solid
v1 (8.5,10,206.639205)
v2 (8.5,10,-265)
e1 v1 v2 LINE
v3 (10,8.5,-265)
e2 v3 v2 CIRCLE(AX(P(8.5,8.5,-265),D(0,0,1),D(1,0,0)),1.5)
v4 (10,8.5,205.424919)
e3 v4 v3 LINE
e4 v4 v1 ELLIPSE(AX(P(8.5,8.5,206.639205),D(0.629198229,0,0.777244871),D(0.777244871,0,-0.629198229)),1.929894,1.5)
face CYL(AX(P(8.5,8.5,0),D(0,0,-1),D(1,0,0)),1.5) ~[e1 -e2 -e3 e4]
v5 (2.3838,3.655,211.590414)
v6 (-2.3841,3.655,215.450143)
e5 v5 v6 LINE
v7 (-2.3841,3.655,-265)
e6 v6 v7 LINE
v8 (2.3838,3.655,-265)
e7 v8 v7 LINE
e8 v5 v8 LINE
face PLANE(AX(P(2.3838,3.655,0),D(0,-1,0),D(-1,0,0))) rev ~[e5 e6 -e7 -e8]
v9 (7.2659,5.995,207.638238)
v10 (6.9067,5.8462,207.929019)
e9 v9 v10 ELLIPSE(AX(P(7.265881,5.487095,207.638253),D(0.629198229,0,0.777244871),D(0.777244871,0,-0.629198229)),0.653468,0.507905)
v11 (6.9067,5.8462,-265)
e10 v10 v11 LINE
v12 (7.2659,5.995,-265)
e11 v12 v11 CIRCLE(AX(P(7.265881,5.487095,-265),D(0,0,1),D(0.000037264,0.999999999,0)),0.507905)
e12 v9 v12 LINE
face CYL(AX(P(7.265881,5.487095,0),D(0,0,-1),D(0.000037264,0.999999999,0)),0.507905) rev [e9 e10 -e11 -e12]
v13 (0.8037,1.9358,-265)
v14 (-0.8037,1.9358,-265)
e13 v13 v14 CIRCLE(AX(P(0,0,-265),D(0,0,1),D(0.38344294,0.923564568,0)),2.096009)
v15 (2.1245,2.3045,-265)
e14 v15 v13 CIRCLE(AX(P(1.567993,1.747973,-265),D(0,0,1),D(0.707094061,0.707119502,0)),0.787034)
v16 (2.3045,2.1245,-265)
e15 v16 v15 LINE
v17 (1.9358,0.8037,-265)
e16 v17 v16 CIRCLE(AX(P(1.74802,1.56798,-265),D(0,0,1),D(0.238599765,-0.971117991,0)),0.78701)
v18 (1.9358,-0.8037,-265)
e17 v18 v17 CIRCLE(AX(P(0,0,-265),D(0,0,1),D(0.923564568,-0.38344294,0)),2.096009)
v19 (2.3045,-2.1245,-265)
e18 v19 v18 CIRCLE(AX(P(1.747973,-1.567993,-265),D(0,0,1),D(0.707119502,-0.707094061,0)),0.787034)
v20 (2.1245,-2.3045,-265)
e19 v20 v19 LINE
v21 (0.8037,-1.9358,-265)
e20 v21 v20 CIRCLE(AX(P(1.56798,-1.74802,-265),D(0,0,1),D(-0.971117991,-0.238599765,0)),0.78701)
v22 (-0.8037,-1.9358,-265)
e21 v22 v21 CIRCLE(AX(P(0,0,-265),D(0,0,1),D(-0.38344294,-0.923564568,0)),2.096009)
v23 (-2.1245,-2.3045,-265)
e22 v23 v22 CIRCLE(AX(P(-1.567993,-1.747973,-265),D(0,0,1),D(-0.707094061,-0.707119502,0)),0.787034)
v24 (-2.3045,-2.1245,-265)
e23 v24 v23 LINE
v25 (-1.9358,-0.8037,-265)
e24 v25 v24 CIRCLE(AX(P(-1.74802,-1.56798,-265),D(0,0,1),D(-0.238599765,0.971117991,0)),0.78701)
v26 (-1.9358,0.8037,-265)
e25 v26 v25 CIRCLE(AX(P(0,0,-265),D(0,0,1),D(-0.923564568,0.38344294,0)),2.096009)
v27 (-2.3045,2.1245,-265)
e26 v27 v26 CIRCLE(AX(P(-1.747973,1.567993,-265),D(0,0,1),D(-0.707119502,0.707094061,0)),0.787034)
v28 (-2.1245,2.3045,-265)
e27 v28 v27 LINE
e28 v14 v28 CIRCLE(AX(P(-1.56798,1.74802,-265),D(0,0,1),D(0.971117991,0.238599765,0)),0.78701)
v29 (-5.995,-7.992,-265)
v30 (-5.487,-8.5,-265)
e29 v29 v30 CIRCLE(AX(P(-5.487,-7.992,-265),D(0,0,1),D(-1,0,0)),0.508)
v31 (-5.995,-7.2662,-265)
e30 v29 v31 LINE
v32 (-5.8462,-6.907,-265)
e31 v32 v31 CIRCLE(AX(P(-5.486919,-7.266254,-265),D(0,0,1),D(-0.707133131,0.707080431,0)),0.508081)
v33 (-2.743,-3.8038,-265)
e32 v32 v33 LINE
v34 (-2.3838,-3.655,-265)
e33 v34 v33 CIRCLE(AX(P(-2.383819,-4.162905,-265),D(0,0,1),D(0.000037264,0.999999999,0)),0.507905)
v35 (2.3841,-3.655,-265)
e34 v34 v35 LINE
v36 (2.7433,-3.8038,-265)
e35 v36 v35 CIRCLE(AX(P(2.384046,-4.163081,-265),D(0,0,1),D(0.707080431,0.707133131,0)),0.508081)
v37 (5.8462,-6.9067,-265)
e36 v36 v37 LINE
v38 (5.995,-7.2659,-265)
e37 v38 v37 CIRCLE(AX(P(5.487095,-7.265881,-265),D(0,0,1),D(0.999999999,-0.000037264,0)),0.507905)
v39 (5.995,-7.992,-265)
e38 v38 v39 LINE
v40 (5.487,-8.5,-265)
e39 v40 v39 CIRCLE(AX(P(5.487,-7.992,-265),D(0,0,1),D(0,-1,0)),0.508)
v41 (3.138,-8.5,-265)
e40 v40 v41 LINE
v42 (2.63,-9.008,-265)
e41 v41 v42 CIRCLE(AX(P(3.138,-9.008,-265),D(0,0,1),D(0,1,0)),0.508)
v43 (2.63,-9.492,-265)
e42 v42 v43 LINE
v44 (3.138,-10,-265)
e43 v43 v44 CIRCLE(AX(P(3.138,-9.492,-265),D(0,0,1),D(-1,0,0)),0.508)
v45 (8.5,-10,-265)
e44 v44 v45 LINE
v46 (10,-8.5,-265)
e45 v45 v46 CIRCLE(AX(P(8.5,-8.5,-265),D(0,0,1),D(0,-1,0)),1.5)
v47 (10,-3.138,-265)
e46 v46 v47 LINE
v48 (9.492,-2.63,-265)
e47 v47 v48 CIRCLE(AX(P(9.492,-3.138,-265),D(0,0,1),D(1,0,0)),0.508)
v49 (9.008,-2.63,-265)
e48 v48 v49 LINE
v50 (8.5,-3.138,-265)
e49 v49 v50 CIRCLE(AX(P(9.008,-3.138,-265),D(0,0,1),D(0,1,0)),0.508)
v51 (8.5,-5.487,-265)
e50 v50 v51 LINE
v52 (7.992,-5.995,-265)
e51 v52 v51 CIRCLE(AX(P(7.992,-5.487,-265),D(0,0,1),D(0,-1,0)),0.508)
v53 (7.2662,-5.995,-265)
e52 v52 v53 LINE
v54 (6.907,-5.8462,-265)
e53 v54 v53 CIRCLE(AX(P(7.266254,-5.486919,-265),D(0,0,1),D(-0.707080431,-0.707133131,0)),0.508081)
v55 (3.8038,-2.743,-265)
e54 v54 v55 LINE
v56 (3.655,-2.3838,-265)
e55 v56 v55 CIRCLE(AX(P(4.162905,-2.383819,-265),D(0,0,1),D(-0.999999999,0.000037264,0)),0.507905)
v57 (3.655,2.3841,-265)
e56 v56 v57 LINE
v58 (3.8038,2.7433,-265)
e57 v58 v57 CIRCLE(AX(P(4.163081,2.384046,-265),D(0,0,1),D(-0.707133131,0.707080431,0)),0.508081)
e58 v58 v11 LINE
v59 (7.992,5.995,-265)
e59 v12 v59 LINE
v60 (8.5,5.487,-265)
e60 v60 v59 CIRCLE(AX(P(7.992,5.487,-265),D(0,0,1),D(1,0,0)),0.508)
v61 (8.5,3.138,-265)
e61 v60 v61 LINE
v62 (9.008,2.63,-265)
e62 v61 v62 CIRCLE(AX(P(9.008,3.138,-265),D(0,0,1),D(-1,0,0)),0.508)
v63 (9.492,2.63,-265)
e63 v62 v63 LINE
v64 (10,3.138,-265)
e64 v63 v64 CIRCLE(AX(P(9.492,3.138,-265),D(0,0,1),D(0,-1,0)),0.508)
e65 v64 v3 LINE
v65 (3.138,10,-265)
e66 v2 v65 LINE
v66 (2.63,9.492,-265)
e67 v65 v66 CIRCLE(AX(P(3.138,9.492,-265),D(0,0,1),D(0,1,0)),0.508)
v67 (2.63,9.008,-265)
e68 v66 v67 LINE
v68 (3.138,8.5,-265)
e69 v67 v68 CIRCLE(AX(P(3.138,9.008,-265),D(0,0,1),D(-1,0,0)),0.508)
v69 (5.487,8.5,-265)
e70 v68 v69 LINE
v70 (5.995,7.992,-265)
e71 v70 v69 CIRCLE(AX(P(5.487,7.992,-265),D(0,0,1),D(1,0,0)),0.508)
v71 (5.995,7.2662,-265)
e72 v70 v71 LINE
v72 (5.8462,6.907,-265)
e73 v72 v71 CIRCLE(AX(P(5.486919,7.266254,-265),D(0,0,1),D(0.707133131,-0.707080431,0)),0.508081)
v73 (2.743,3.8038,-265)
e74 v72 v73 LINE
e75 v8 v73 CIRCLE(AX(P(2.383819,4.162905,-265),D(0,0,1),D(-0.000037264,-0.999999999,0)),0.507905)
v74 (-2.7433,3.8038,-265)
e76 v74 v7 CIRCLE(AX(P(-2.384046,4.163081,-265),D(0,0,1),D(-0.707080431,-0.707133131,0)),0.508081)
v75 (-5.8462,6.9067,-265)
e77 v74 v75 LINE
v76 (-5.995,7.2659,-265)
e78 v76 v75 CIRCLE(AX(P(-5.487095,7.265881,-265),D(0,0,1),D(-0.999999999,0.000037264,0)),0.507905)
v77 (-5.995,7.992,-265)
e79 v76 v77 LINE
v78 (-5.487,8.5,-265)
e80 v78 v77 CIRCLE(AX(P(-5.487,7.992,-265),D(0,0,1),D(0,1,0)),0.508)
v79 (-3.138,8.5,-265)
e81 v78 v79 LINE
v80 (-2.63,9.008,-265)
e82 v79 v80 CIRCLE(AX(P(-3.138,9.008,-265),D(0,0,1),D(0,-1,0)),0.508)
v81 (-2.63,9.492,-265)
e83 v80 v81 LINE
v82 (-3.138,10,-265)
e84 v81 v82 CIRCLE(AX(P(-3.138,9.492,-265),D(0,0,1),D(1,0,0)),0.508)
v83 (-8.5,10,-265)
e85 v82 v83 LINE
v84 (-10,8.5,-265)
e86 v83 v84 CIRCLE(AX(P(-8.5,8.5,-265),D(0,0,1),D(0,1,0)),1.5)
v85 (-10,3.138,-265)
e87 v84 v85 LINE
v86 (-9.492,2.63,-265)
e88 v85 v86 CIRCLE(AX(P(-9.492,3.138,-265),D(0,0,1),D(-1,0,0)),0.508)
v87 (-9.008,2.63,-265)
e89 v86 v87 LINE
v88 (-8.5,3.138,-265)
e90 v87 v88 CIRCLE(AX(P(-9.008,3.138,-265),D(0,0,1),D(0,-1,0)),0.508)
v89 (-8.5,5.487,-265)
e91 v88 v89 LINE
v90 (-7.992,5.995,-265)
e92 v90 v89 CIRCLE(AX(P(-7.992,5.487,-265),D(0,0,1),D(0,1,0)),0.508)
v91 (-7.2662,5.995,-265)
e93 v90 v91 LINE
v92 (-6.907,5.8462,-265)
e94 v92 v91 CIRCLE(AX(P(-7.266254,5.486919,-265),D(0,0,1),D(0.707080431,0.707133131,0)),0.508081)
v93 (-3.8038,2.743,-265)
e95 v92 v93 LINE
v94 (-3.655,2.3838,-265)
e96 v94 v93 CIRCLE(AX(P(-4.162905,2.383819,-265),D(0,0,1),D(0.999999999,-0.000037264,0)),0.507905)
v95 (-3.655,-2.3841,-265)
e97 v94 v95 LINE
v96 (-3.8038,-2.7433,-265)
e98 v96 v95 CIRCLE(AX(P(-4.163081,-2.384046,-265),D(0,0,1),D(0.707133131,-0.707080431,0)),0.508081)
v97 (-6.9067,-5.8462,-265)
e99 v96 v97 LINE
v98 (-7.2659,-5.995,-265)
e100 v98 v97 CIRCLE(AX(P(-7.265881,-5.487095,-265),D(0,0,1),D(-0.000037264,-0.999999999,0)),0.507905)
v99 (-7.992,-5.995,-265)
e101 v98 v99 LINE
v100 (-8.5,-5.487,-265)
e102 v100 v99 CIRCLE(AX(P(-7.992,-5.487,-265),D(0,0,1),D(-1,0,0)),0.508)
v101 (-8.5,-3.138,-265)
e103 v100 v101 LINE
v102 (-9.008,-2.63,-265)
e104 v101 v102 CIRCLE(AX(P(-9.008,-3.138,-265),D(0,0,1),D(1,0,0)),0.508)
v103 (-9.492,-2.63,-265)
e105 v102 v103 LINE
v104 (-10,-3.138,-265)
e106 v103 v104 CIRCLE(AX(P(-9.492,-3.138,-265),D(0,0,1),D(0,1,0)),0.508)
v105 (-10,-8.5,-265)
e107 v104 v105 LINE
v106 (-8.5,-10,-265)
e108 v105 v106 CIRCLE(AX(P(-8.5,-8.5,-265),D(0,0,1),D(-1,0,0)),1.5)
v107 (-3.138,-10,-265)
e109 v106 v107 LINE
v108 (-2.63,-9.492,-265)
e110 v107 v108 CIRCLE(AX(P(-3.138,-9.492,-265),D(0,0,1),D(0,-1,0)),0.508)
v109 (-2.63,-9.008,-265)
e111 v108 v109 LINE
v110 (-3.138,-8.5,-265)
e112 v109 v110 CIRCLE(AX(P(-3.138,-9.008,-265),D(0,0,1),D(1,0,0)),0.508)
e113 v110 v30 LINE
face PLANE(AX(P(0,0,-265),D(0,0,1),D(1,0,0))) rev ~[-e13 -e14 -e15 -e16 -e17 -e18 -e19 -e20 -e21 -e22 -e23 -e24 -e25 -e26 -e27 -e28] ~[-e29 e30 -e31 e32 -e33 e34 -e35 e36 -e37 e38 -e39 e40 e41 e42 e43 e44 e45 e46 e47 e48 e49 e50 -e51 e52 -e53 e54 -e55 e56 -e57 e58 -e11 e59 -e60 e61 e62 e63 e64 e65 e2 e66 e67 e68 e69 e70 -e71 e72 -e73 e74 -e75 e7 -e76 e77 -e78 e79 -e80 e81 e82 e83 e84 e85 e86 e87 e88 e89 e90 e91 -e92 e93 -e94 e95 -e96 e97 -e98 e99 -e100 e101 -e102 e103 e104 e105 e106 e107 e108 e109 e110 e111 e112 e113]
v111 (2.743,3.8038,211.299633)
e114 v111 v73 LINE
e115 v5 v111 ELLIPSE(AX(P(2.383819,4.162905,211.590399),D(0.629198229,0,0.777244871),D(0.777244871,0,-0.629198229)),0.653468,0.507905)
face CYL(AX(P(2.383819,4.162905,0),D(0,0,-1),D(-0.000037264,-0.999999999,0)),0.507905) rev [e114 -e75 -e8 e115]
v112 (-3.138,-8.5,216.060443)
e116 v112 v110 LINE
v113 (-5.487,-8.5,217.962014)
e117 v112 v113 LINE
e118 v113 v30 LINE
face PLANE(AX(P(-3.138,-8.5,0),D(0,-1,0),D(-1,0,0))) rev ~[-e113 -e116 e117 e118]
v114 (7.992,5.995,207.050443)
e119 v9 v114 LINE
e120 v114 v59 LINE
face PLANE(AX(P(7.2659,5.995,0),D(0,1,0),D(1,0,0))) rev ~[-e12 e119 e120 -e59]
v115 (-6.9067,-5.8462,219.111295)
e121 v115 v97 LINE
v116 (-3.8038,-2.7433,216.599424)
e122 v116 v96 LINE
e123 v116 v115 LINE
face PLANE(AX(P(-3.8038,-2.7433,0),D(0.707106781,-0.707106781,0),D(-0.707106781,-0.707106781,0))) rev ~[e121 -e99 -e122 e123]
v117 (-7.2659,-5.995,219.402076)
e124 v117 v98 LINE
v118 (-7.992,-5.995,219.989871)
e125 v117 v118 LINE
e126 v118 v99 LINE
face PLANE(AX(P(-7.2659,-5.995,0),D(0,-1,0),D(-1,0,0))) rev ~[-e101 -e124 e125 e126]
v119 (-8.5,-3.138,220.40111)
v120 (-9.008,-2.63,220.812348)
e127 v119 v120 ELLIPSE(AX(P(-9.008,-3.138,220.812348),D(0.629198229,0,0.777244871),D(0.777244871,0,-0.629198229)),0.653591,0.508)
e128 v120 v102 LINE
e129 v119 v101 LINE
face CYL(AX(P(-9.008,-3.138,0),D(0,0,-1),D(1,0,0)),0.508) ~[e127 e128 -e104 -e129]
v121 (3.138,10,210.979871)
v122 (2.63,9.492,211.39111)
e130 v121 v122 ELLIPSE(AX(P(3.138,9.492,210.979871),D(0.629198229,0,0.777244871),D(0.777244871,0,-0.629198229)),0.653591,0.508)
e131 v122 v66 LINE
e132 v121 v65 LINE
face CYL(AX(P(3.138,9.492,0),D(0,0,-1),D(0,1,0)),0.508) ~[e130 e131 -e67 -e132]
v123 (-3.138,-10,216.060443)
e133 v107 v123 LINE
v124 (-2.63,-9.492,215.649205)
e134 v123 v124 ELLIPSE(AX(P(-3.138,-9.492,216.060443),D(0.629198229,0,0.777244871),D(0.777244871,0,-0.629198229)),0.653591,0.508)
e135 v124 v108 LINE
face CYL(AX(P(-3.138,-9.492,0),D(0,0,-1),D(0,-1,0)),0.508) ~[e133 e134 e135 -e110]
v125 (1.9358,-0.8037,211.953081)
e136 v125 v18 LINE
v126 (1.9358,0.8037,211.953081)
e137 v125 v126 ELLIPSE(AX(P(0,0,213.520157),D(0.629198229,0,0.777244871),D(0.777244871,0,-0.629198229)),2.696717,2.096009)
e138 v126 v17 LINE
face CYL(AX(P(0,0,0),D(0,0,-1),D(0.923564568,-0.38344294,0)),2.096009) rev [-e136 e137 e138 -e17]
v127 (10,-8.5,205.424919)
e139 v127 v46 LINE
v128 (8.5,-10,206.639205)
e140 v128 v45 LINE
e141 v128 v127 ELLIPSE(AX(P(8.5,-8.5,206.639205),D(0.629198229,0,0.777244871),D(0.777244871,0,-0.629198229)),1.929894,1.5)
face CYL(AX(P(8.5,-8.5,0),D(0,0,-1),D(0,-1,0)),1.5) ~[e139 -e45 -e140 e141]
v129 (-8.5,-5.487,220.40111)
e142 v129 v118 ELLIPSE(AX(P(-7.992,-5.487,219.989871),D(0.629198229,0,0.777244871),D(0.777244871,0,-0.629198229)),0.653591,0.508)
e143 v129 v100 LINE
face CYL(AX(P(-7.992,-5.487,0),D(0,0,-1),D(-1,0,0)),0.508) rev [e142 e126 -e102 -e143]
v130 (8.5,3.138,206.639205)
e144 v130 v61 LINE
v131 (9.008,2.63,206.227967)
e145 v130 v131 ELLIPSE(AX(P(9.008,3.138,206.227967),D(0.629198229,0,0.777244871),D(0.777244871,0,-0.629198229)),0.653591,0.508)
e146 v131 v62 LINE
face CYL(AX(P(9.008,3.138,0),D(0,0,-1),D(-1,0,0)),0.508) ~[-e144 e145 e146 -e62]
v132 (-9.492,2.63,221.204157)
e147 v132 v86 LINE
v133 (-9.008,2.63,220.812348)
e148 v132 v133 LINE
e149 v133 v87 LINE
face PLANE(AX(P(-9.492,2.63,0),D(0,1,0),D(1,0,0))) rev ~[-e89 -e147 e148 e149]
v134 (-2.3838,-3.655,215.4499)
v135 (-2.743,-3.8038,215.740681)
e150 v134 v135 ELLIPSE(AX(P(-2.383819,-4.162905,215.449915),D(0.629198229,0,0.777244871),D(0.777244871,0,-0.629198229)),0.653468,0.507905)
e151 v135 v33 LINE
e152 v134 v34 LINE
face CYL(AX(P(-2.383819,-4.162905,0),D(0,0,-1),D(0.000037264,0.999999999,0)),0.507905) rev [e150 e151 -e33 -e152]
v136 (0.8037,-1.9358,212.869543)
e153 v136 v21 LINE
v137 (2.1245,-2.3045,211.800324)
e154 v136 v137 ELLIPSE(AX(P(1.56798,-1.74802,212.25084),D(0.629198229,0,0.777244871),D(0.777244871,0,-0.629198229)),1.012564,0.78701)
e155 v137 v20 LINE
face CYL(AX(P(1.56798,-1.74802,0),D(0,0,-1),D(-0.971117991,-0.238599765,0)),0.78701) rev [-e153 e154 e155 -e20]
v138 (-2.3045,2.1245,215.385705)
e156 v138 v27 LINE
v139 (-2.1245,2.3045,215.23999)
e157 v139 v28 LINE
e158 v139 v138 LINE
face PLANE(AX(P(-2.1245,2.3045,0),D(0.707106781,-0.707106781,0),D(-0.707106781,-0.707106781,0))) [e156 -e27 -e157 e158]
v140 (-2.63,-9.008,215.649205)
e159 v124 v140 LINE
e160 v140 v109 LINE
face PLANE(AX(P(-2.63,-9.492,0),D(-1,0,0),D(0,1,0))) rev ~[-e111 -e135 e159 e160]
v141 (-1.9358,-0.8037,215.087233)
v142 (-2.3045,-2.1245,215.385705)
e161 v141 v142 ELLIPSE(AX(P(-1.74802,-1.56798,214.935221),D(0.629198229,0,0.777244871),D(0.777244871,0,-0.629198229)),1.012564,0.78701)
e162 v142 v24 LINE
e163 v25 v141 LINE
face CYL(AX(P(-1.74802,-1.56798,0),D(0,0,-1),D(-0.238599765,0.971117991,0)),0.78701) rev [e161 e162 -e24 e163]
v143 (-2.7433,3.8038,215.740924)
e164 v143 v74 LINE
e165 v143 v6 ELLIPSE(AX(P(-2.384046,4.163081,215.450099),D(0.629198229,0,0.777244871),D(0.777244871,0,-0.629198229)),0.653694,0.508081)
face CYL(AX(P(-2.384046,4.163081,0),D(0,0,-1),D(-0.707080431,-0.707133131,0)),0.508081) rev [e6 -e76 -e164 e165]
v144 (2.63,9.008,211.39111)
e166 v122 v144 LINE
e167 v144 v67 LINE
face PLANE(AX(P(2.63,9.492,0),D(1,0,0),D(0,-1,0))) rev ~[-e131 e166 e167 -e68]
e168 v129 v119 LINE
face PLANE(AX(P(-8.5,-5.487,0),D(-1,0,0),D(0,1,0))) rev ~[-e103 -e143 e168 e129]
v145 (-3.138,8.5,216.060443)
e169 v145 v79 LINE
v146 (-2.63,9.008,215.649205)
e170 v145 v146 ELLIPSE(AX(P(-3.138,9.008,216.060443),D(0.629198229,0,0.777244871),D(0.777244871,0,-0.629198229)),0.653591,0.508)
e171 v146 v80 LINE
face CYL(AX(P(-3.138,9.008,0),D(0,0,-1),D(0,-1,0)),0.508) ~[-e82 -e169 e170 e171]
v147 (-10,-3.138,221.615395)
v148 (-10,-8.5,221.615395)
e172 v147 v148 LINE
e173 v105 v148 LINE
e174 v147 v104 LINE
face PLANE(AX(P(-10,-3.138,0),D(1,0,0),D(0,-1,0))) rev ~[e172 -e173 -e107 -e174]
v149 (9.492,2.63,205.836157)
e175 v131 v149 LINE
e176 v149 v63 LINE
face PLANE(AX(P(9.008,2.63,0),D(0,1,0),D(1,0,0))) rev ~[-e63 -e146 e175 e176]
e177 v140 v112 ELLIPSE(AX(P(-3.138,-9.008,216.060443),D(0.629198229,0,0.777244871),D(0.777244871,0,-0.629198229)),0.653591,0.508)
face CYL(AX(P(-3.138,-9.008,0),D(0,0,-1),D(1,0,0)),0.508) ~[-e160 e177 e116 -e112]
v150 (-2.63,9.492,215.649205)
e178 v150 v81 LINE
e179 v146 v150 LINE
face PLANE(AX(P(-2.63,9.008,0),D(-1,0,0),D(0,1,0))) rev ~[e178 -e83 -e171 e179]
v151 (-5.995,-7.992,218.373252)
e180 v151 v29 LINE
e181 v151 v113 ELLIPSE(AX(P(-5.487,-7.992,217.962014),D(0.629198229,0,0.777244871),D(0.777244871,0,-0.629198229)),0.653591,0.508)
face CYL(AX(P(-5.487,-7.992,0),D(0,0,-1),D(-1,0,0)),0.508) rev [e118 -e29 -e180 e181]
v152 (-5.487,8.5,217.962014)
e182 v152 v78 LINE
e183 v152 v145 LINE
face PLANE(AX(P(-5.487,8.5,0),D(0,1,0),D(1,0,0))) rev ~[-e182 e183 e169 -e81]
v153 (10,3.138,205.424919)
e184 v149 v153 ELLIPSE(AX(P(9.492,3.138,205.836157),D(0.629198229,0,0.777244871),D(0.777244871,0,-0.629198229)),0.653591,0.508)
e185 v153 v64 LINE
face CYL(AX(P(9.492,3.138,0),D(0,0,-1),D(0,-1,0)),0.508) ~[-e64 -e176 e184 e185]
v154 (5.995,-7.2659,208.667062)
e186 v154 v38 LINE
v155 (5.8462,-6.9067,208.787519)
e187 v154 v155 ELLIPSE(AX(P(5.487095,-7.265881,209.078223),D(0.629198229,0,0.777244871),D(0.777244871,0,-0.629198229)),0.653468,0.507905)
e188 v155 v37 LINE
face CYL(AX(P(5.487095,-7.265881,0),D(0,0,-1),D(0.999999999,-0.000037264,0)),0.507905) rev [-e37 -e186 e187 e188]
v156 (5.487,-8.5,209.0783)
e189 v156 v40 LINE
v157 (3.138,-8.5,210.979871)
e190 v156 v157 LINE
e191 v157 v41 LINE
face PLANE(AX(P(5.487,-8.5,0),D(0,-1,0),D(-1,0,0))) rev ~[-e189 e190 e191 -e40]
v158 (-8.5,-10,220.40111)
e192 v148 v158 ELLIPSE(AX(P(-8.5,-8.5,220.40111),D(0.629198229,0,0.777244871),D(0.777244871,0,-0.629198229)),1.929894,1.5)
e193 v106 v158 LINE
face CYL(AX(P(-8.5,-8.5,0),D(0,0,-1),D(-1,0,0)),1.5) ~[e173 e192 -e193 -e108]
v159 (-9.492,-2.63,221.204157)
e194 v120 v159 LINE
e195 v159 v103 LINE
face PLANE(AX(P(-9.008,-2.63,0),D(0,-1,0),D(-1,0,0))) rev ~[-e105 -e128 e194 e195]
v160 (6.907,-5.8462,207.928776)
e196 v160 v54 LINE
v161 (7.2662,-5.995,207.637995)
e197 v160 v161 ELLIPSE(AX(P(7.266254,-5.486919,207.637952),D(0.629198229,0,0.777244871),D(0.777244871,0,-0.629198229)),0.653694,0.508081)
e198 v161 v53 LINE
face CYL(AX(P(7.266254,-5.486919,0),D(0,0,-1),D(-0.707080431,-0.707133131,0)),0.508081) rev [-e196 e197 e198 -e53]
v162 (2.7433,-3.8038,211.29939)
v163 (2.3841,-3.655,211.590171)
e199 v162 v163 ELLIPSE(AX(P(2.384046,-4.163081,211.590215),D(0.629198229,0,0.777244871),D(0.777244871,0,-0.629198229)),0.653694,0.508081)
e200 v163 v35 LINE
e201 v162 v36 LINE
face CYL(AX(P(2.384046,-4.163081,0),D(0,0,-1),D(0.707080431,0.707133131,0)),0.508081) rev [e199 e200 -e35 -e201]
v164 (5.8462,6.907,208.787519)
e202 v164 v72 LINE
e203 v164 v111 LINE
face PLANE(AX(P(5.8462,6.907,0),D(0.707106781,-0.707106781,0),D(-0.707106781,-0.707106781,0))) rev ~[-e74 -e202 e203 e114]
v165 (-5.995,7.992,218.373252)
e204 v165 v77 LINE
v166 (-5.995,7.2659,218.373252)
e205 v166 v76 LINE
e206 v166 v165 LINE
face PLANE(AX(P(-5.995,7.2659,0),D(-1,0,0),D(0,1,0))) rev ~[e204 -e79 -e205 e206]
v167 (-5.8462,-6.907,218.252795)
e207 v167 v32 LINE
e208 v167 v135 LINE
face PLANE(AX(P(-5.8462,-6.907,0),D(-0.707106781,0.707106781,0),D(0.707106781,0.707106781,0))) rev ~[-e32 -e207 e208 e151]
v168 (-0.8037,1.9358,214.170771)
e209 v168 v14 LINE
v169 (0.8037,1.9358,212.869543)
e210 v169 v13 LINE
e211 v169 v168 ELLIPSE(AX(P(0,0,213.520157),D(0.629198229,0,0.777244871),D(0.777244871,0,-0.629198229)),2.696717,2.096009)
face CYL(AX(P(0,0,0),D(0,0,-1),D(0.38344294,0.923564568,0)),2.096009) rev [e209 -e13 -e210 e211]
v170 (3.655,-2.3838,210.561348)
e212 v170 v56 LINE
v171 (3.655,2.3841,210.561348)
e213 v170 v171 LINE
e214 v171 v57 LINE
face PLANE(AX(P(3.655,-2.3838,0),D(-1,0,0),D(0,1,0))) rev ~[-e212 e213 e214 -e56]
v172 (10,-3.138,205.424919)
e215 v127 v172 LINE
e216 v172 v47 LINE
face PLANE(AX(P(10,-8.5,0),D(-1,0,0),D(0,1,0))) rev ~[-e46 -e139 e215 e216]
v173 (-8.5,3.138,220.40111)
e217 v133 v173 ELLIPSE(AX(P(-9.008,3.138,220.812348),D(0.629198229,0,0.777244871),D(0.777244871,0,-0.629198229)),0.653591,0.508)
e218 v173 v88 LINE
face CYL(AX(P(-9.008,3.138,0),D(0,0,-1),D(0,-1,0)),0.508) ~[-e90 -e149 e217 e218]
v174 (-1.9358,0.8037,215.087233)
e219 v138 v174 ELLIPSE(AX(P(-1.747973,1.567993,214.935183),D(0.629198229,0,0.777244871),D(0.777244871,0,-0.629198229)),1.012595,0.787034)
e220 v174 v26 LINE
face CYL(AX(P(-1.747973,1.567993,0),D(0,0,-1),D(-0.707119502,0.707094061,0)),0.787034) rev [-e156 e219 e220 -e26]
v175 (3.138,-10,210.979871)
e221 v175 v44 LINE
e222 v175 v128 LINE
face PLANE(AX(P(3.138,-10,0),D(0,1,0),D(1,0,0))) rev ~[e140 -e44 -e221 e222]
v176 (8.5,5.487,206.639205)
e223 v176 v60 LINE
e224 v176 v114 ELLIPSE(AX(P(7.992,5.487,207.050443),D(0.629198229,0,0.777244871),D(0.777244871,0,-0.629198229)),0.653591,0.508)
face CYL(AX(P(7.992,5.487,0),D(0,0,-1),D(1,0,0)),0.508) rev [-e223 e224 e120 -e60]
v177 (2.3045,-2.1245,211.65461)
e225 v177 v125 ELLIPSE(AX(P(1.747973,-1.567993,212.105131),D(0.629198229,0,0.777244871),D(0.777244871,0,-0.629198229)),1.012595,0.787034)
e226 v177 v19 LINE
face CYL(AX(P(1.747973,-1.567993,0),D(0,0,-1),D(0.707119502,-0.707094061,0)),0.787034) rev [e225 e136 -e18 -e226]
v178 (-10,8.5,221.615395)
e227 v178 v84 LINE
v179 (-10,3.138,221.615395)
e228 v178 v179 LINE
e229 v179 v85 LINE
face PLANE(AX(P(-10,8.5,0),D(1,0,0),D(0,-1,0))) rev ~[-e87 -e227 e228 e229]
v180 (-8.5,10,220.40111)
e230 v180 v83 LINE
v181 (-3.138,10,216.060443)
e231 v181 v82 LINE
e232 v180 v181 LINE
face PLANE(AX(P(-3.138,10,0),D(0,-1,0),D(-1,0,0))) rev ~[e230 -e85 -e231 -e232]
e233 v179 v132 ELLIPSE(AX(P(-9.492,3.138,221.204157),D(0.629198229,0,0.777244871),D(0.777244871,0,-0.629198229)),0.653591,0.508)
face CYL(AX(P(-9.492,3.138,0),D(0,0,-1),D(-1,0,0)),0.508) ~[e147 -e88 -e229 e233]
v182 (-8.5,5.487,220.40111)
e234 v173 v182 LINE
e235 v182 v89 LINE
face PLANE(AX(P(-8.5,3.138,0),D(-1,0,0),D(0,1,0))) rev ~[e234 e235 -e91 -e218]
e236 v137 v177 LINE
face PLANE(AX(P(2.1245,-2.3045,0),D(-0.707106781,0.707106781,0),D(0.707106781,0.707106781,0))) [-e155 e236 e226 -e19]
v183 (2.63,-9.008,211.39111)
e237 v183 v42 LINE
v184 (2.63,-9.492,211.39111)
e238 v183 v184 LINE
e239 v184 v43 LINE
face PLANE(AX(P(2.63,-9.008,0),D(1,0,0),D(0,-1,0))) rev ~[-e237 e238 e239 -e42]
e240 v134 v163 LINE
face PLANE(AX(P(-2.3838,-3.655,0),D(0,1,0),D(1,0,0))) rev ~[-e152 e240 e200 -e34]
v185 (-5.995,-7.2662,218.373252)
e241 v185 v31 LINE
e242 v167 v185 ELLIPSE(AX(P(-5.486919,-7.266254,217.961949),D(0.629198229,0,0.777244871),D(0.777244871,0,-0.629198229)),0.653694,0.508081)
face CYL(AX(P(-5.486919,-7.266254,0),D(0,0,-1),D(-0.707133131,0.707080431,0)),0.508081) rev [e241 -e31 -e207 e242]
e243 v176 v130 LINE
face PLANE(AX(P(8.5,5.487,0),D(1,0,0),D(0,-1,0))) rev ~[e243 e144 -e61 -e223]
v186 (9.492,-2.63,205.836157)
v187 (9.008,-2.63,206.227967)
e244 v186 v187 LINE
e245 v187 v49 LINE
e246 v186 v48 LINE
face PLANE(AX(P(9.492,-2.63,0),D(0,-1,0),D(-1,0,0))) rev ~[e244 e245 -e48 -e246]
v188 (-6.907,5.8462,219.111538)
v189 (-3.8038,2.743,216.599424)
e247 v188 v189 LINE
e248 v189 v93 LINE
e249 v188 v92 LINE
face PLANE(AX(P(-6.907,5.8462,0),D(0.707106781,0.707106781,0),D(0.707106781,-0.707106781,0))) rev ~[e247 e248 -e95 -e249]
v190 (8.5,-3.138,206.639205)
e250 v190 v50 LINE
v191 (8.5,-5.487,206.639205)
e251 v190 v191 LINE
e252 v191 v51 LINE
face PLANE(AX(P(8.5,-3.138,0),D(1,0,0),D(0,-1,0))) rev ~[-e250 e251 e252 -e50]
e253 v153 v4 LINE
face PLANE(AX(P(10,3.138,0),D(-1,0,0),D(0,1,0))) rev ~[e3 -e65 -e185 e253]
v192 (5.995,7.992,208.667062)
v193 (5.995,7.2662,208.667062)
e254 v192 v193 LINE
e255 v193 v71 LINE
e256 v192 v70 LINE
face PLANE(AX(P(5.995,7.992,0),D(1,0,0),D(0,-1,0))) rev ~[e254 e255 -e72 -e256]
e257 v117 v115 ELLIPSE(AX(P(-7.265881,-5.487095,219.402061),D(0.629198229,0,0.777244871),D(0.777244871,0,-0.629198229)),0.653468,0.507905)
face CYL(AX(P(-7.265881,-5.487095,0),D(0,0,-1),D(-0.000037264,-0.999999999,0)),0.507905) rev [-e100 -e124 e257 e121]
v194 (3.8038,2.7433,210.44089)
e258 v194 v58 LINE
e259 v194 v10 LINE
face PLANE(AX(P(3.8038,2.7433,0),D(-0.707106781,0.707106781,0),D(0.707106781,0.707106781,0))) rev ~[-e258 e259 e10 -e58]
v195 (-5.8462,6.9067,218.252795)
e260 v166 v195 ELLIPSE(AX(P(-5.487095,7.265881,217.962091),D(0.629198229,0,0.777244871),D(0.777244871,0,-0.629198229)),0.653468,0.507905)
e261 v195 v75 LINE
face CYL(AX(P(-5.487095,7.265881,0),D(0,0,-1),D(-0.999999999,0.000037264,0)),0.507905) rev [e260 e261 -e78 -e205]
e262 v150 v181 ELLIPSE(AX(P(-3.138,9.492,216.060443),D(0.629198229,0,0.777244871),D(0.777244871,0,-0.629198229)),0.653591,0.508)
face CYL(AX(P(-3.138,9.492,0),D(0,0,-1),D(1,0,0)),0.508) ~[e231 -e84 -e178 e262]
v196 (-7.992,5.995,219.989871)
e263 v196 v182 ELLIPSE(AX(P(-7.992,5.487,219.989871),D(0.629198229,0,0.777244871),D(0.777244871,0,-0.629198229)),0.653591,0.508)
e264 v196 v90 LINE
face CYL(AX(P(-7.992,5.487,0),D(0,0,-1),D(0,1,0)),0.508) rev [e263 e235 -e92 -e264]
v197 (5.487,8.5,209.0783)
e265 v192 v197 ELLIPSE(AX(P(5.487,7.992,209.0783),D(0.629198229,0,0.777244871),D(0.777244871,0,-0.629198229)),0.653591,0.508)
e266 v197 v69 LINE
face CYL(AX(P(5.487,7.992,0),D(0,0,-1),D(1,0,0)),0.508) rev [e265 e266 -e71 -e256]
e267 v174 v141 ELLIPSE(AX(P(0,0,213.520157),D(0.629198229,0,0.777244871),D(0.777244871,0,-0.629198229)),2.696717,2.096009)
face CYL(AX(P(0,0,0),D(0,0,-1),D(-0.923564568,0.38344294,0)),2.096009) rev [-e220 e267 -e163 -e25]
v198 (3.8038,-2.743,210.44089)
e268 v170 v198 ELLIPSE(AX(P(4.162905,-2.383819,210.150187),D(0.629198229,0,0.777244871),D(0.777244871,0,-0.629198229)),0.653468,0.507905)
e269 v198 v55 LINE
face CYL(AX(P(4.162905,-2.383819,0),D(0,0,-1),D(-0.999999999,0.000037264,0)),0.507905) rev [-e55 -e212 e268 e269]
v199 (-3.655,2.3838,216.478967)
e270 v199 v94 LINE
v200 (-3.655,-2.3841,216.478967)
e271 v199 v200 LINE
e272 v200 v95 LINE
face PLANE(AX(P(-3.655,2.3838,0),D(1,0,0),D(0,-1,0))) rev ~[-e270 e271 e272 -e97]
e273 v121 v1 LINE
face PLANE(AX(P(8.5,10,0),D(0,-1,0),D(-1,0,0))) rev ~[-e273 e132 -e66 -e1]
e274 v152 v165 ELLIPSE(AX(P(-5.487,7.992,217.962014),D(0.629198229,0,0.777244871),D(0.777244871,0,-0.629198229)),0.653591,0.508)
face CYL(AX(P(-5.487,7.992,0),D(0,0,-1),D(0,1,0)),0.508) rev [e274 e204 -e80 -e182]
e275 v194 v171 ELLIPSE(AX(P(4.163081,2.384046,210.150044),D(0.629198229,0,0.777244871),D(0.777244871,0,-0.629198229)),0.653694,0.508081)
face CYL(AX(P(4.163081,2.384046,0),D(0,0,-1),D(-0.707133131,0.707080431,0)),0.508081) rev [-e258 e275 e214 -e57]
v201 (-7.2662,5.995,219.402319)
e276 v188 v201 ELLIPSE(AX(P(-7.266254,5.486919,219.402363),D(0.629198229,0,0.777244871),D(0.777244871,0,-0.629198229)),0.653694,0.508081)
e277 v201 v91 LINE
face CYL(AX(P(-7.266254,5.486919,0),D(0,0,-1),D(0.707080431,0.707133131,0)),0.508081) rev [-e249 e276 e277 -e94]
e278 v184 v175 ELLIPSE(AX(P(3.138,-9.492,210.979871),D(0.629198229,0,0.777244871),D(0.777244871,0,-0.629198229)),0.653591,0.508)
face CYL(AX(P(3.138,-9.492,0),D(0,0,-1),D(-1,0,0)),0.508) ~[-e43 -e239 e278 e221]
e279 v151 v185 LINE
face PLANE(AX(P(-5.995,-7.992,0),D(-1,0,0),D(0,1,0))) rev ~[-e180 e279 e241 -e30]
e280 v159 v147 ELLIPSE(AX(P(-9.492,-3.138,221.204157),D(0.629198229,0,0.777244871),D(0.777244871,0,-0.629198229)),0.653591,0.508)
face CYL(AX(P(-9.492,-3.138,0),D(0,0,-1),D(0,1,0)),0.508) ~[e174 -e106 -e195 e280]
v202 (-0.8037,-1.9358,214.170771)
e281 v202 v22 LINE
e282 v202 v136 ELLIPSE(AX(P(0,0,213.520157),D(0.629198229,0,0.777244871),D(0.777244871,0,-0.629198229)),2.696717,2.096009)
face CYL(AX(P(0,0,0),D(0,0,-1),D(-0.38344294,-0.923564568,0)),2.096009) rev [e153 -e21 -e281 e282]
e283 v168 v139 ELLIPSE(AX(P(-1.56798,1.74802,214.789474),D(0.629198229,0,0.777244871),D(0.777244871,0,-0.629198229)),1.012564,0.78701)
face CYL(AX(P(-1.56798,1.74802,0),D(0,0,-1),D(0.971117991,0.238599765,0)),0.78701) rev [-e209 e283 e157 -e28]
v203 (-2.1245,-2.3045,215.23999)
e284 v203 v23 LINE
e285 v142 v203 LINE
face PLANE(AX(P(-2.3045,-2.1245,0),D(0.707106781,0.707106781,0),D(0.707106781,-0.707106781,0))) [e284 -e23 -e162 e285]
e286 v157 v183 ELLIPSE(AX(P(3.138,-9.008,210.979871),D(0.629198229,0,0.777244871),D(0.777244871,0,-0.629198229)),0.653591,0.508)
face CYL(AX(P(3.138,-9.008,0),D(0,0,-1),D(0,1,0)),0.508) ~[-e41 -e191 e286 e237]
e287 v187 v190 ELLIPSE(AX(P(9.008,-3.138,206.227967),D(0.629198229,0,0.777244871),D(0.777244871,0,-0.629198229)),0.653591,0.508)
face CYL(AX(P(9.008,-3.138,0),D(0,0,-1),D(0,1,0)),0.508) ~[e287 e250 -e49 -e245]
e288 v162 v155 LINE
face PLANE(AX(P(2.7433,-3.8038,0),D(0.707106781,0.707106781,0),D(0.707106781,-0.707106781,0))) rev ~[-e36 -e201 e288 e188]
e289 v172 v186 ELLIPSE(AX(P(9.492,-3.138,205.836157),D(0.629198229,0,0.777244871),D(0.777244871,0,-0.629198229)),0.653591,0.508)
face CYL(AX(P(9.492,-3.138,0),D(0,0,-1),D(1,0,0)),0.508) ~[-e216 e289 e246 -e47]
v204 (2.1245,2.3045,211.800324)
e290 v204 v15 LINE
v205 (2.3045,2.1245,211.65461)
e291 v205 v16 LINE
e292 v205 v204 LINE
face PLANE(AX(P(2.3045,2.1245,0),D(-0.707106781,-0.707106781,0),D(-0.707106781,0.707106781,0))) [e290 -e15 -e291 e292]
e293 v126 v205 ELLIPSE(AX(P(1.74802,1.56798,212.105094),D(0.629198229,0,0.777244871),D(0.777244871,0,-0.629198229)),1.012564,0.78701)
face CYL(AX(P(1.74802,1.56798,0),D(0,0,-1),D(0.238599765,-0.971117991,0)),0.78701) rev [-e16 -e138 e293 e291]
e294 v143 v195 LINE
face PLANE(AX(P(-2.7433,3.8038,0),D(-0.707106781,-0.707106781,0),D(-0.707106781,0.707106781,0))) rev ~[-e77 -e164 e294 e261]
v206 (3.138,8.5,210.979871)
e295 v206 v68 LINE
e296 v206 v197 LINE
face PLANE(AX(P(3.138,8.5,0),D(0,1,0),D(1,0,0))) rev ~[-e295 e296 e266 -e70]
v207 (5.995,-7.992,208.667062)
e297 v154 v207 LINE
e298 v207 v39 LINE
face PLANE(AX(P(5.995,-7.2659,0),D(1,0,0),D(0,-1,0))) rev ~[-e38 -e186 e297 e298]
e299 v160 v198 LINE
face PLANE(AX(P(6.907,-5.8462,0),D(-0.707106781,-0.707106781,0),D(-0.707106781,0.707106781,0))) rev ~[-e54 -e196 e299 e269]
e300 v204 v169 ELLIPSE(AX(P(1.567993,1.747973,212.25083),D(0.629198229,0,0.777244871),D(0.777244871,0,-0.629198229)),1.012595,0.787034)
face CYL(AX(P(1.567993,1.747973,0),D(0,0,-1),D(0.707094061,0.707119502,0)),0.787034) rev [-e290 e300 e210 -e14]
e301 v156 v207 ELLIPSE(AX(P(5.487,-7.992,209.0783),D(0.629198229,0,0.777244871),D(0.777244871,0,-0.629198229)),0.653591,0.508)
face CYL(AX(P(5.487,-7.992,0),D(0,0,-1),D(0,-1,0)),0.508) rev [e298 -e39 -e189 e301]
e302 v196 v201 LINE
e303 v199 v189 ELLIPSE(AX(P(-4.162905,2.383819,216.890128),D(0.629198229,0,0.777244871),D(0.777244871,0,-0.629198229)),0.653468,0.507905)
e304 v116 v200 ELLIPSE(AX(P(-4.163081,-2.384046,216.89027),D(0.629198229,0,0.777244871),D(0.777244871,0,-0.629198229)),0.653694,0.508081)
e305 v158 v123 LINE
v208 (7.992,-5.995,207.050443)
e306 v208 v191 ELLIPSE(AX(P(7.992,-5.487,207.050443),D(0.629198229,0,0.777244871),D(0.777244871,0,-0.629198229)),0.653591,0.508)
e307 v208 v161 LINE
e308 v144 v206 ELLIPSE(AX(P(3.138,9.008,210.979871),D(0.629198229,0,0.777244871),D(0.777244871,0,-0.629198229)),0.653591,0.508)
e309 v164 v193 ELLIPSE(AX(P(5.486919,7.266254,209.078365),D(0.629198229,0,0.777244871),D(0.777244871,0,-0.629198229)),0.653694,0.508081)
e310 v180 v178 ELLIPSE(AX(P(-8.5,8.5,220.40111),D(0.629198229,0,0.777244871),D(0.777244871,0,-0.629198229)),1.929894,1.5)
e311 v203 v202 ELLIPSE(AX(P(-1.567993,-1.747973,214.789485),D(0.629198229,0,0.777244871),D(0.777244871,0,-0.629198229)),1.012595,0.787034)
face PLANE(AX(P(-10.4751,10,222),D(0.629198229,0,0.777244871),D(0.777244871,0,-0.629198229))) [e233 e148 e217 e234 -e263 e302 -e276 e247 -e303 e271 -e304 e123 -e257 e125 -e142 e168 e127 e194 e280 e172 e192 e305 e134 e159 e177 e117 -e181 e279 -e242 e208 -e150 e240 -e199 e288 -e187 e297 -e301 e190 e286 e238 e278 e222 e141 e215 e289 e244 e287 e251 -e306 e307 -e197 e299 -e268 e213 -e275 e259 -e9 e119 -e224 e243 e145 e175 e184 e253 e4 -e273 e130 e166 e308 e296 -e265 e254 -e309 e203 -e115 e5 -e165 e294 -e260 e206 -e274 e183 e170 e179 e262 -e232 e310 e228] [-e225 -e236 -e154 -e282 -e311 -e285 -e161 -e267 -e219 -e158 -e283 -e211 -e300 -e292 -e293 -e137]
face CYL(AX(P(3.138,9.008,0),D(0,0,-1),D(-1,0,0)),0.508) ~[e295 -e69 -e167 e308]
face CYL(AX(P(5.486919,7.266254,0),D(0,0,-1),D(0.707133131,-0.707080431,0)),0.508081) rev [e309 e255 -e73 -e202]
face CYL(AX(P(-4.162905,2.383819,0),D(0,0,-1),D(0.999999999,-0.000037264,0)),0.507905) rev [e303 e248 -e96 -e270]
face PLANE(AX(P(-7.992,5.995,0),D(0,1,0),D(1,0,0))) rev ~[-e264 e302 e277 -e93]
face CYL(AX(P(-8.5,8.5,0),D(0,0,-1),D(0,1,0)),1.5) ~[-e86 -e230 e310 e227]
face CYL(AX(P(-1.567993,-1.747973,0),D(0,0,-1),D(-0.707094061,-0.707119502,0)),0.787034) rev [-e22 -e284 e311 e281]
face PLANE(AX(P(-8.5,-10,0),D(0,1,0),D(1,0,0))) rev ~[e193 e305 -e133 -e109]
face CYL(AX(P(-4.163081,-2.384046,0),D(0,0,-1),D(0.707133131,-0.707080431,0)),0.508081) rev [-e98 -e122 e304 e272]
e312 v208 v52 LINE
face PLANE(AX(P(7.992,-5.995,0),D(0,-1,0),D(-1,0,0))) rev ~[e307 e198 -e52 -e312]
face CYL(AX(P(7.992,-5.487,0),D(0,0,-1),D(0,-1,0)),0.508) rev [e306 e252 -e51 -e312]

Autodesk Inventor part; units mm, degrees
ref_plane "YZ Plane" through (0, 0, 0) normal (1, 0, 0) x (0, 1, 0)
ref_plane "XZ Plane" through (0, 0, 0) normal (0, 1, 0) x (-1, 0, 0)
ref_plane "XY Plane" through (0, 0, 0) normal (0, 0, 1) x (1, 0, 0)
sketch "Sketch1" plane through (0, 0, 0) normal (0, 0, 1) x (1, 0, 0)
  arc A0 (-10, -8.5) -> (-8.5, -10) centre (-8.5, -8.5) ccw
  line L0 (-8.5, -10) -> (-3.138, -10)
  arc A1 (-3.138, -10) -> (-2.63, -9.492) centre (-3.138, -9.492) ccw
  line L1 (-2.63, -9.492) -> (-2.63, -9.008)
  arc A2 (-2.63, -9.008) -> (-3.138, -8.5) centre (-3.138, -9.008) ccw
  line L2 (-3.138, -8.5) -> (-5.487, -8.5)
  arc A3 (-5.995, -7.992) -> (-5.487, -8.5) centre (-5.487, -7.992) ccw
  line L3 (-5.995, -7.992) -> (-5.995, -7.2662)
  arc A4 (-5.8462, -6.907) -> (-5.995, -7.2662) centre (-5.487, -7.2662) ccw
  line L4 (-5.8462, -6.907) -> (-2.743, -3.8038)
  arc A5 (-2.3838, -3.655) -> (-2.743, -3.8038) centre (-2.3838, -4.163) ccw
  line L5 (-2.3838, -3.655) -> (2.3841, -3.655)
  arc A6 (2.7433, -3.8038) -> (2.3841, -3.655) centre (2.3841, -4.163) ccw
  line L6 (2.7433, -3.8038) -> (5.8462, -6.9067)
  arc A7 (5.995, -7.2659) -> (5.8462, -6.9067) centre (5.487, -7.2659) ccw
  line L7 (5.995, -7.2659) -> (5.995, -7.992)
  arc A8 (5.487, -8.5) -> (5.995, -7.992) centre (5.487, -7.992) ccw
  line L8 (5.487, -8.5) -> (3.138, -8.5)
  arc A9 (3.138, -8.5) -> (2.63, -9.008) centre (3.138, -9.008) ccw
  line L9 (2.63, -9.008) -> (2.63, -9.492)
  arc A10 (2.63, -9.492) -> (3.138, -10) centre (3.138, -9.492) ccw
  line L10 (3.138, -10) -> (8.5, -10)
  arc A11 (8.5, -10) -> (10, -8.5) centre (8.5, -8.5) ccw
  line L11 (10, -8.5) -> (10, -3.138)
  arc A12 (10, -3.138) -> (9.492, -2.63) centre (9.492, -3.138) ccw
  line L12 (9.492, -2.63) -> (9.008, -2.63)
  arc A13 (9.008, -2.63) -> (8.5, -3.138) centre (9.008, -3.138) ccw
  line L13 (8.5, -3.138) -> (8.5, -5.487)
  arc A14 (7.992, -5.995) -> (8.5, -5.487) centre (7.992, -5.487) ccw
  line L14 (7.992, -5.995) -> (7.2662, -5.995)
  arc A15 (6.907, -5.8462) -> (7.2662, -5.995) centre (7.2662, -5.487) ccw
  line L15 (6.907, -5.8462) -> (3.8038, -2.743)
  arc A16 (3.655, -2.3838) -> (3.8038, -2.743) centre (4.163, -2.3838) ccw
  line L16 (3.655, -2.3838) -> (3.655, 2.3841)
  arc A17 (3.8038, 2.7433) -> (3.655, 2.3841) centre (4.163, 2.3841) ccw
  line L17 (3.8038, 2.7433) -> (6.9067, 5.8462)
  arc A18 (7.2659, 5.995) -> (6.9067, 5.8462) centre (7.2659, 5.487) ccw
  line L18 (7.2659, 5.995) -> (7.992, 5.995)
  arc A19 (8.5, 5.487) -> (7.992, 5.995) centre (7.992, 5.487) ccw
  line L19 (8.5, 5.487) -> (8.5, 3.138)
  arc A20 (8.5, 3.138) -> (9.008, 2.63) centre (9.008, 3.138) ccw
  line L20 (9.008, 2.63) -> (9.492, 2.63)
  arc A21 (9.492, 2.63) -> (10, 3.138) centre (9.492, 3.138) ccw
  line L21 (10, 3.138) -> (10, 8.5)
  arc A22 (10, 8.5) -> (8.5, 10) centre (8.5, 8.5) ccw
  line L22 (8.5, 10) -> (3.138, 10)
  arc A23 (3.138, 10) -> (2.63, 9.492) centre (3.138, 9.492) ccw
  line L23 (2.63, 9.492) -> (2.63, 9.008)
  arc A24 (2.63, 9.008) -> (3.138, 8.5) centre (3.138, 9.008) ccw
  line L24 (3.138, 8.5) -> (5.487, 8.5)
  arc A25 (5.995, 7.992) -> (5.487, 8.5) centre (5.487, 7.992) ccw
  line L25 (5.995, 7.992) -> (5.995, 7.2662)
  arc A26 (5.8462, 6.907) -> (5.995, 7.2662) centre (5.487, 7.2662) ccw
  line L26 (5.8462, 6.907) -> (2.743, 3.8038)
  arc A27 (2.3838, 3.655) -> (2.743, 3.8038) centre (2.3838, 4.163) ccw
  line L27 (2.3838, 3.655) -> (-2.3841, 3.655)
  arc A28 (-2.7433, 3.8038) -> (-2.3841, 3.655) centre (-2.3841, 4.163) ccw
  line L28 (-2.7433, 3.8038) -> (-5.8462, 6.9067)
  arc A29 (-5.995, 7.2659) -> (-5.8462, 6.9067) centre (-5.487, 7.2659) ccw
  line L29 (-5.995, 7.2659) -> (-5.995, 7.992)
  arc A30 (-5.487, 8.5) -> (-5.995, 7.992) centre (-5.487, 7.992) ccw
  line L30 (-5.487, 8.5) -> (-3.138, 8.5)
  arc A31 (-3.138, 8.5) -> (-2.63, 9.008) centre (-3.138, 9.008) ccw
  line L31 (-2.63, 9.008) -> (-2.63, 9.492)
  arc A32 (-2.63, 9.492) -> (-3.138, 10) centre (-3.138, 9.492) ccw
  line L32 (-3.138, 10) -> (-8.5, 10)
  arc A33 (-8.5, 10) -> (-10, 8.5) centre (-8.5, 8.5) ccw
  line L33 (-10, 8.5) -> (-10, 3.138)
  arc A34 (-10, 3.138) -> (-9.492, 2.63) centre (-9.492, 3.138) ccw
  line L34 (-9.492, 2.63) -> (-9.008, 2.63)
  arc A35 (-9.008, 2.63) -> (-8.5, 3.138) centre (-9.008, 3.138) ccw
  line L35 (-8.5, 3.138) -> (-8.5, 5.487)
  arc A36 (-7.992, 5.995) -> (-8.5, 5.487) centre (-7.992, 5.487) ccw
  line L36 (-7.992, 5.995) -> (-7.2662, 5.995)
  arc A37 (-6.907, 5.8462) -> (-7.2662, 5.995) centre (-7.2662, 5.487) ccw
  line L37 (-6.907, 5.8462) -> (-3.8038, 2.743)
  arc A38 (-3.655, 2.3838) -> (-3.8038, 2.743) centre (-4.163, 2.3838) ccw
  line L38 (-3.655, 2.3838) -> (-3.655, -2.3841)
  arc A39 (-3.8038, -2.7433) -> (-3.655, -2.3841) centre (-4.163, -2.3841) ccw
  line L39 (-3.8038, -2.7433) -> (-6.9067, -5.8462)
  arc A40 (-7.2659, -5.995) -> (-6.9067, -5.8462) centre (-7.2659, -5.487) ccw
  line L40 (-7.2659, -5.995) -> (-7.992, -5.995)
  arc A41 (-8.5, -5.487) -> (-7.992, -5.995) centre (-7.992, -5.487) ccw
  line L41 (-8.5, -5.487) -> (-8.5, -3.138)
  arc A42 (-8.5, -3.138) -> (-9.008, -2.63) centre (-9.008, -3.138) ccw
  line L42 (-9.008, -2.63) -> (-9.492, -2.63)
  arc A43 (-9.492, -2.63) -> (-10, -3.138) centre (-9.492, -3.138) ccw
  line L43 (-10, -3.138) -> (-10, -8.5)
  arc A44 (-1.9358, -0.8037) -> (-2.3045, -2.1245) centre (-1.748, -1.568) ccw
  line L44 (-2.3045, -2.1245) -> (-2.1245, -2.3045)
  arc A45 (-2.1245, -2.3045) -> (-0.8037, -1.9358) centre (-1.568, -1.748) ccw
  arc A46 (-0.8037, -1.9358) -> (0.8037, -1.9358) centre (0, 0) ccw
  arc A47 (0.8037, -1.9358) -> (2.1245, -2.3045) centre (1.568, -1.748) ccw
  line L45 (2.1245, -2.3045) -> (2.3045, -2.1245)
  arc A48 (2.3045, -2.1245) -> (1.9358, -0.8037) centre (1.748, -1.568) ccw
  arc A49 (1.9358, -0.8037) -> (1.9358, 0.8037) centre (0, 0) ccw
  arc A50 (1.9358, 0.8037) -> (2.3045, 2.1245) centre (1.748, 1.568) ccw
  line L46 (2.3045, 2.1245) -> (2.1245, 2.3045)
  arc A51 (2.1245, 2.3045) -> (0.8037, 1.9358) centre (1.568, 1.748) ccw
  arc A52 (0.8037, 1.9358) -> (-0.8037, 1.9358) centre (0, 0) ccw
  arc A53 (-0.8037, 1.9358) -> (-2.1245, 2.3045) centre (-1.568, 1.748) ccw
  line L47 (-2.1245, 2.3045) -> (-2.3045, 2.1245)
  arc A54 (-2.3045, 2.1245) -> (-1.9358, 0.8037) centre (-1.748, 1.568) ccw
  arc A55 (-1.9358, 0.8037) -> (-1.9358, -0.8037) centre (0, 0) ccw
  point P0 (0, 0)
extrude "Extrusion1" add sketch "Sketch1" along normal mid plane 530
sketch "Sketch4" plane through (-8.5, 10, 265) normal (0, 1, 0) x (1, 0, 0)
  line L0 (19.0249, 0) -> (19.0249, 60)
  line L1 (-1.9751, 43) -> (-1.9751, 0)
  line L2 (-1.9751, 43) -> (19.0249, 60)
  line L3 (11.638, 530) -> (17, 530) projected
  line L4 (0, 530) -> (5.362, 530) projected
  line L5 (-1.9751, 0) -> (19.0249, 0)
  point P0 (8.5, 265)
  point P1 (14.319, 530)
  point P2 (2.681, 530)
  point P3 (0, 0)
  dimension "d20" = 470
  dimension "d21" = 487
  dimension "d22" = 21
extrude "Extrusion2" cut sketch "Sketch4" against normal through all
properties part number "20-2020-285"
